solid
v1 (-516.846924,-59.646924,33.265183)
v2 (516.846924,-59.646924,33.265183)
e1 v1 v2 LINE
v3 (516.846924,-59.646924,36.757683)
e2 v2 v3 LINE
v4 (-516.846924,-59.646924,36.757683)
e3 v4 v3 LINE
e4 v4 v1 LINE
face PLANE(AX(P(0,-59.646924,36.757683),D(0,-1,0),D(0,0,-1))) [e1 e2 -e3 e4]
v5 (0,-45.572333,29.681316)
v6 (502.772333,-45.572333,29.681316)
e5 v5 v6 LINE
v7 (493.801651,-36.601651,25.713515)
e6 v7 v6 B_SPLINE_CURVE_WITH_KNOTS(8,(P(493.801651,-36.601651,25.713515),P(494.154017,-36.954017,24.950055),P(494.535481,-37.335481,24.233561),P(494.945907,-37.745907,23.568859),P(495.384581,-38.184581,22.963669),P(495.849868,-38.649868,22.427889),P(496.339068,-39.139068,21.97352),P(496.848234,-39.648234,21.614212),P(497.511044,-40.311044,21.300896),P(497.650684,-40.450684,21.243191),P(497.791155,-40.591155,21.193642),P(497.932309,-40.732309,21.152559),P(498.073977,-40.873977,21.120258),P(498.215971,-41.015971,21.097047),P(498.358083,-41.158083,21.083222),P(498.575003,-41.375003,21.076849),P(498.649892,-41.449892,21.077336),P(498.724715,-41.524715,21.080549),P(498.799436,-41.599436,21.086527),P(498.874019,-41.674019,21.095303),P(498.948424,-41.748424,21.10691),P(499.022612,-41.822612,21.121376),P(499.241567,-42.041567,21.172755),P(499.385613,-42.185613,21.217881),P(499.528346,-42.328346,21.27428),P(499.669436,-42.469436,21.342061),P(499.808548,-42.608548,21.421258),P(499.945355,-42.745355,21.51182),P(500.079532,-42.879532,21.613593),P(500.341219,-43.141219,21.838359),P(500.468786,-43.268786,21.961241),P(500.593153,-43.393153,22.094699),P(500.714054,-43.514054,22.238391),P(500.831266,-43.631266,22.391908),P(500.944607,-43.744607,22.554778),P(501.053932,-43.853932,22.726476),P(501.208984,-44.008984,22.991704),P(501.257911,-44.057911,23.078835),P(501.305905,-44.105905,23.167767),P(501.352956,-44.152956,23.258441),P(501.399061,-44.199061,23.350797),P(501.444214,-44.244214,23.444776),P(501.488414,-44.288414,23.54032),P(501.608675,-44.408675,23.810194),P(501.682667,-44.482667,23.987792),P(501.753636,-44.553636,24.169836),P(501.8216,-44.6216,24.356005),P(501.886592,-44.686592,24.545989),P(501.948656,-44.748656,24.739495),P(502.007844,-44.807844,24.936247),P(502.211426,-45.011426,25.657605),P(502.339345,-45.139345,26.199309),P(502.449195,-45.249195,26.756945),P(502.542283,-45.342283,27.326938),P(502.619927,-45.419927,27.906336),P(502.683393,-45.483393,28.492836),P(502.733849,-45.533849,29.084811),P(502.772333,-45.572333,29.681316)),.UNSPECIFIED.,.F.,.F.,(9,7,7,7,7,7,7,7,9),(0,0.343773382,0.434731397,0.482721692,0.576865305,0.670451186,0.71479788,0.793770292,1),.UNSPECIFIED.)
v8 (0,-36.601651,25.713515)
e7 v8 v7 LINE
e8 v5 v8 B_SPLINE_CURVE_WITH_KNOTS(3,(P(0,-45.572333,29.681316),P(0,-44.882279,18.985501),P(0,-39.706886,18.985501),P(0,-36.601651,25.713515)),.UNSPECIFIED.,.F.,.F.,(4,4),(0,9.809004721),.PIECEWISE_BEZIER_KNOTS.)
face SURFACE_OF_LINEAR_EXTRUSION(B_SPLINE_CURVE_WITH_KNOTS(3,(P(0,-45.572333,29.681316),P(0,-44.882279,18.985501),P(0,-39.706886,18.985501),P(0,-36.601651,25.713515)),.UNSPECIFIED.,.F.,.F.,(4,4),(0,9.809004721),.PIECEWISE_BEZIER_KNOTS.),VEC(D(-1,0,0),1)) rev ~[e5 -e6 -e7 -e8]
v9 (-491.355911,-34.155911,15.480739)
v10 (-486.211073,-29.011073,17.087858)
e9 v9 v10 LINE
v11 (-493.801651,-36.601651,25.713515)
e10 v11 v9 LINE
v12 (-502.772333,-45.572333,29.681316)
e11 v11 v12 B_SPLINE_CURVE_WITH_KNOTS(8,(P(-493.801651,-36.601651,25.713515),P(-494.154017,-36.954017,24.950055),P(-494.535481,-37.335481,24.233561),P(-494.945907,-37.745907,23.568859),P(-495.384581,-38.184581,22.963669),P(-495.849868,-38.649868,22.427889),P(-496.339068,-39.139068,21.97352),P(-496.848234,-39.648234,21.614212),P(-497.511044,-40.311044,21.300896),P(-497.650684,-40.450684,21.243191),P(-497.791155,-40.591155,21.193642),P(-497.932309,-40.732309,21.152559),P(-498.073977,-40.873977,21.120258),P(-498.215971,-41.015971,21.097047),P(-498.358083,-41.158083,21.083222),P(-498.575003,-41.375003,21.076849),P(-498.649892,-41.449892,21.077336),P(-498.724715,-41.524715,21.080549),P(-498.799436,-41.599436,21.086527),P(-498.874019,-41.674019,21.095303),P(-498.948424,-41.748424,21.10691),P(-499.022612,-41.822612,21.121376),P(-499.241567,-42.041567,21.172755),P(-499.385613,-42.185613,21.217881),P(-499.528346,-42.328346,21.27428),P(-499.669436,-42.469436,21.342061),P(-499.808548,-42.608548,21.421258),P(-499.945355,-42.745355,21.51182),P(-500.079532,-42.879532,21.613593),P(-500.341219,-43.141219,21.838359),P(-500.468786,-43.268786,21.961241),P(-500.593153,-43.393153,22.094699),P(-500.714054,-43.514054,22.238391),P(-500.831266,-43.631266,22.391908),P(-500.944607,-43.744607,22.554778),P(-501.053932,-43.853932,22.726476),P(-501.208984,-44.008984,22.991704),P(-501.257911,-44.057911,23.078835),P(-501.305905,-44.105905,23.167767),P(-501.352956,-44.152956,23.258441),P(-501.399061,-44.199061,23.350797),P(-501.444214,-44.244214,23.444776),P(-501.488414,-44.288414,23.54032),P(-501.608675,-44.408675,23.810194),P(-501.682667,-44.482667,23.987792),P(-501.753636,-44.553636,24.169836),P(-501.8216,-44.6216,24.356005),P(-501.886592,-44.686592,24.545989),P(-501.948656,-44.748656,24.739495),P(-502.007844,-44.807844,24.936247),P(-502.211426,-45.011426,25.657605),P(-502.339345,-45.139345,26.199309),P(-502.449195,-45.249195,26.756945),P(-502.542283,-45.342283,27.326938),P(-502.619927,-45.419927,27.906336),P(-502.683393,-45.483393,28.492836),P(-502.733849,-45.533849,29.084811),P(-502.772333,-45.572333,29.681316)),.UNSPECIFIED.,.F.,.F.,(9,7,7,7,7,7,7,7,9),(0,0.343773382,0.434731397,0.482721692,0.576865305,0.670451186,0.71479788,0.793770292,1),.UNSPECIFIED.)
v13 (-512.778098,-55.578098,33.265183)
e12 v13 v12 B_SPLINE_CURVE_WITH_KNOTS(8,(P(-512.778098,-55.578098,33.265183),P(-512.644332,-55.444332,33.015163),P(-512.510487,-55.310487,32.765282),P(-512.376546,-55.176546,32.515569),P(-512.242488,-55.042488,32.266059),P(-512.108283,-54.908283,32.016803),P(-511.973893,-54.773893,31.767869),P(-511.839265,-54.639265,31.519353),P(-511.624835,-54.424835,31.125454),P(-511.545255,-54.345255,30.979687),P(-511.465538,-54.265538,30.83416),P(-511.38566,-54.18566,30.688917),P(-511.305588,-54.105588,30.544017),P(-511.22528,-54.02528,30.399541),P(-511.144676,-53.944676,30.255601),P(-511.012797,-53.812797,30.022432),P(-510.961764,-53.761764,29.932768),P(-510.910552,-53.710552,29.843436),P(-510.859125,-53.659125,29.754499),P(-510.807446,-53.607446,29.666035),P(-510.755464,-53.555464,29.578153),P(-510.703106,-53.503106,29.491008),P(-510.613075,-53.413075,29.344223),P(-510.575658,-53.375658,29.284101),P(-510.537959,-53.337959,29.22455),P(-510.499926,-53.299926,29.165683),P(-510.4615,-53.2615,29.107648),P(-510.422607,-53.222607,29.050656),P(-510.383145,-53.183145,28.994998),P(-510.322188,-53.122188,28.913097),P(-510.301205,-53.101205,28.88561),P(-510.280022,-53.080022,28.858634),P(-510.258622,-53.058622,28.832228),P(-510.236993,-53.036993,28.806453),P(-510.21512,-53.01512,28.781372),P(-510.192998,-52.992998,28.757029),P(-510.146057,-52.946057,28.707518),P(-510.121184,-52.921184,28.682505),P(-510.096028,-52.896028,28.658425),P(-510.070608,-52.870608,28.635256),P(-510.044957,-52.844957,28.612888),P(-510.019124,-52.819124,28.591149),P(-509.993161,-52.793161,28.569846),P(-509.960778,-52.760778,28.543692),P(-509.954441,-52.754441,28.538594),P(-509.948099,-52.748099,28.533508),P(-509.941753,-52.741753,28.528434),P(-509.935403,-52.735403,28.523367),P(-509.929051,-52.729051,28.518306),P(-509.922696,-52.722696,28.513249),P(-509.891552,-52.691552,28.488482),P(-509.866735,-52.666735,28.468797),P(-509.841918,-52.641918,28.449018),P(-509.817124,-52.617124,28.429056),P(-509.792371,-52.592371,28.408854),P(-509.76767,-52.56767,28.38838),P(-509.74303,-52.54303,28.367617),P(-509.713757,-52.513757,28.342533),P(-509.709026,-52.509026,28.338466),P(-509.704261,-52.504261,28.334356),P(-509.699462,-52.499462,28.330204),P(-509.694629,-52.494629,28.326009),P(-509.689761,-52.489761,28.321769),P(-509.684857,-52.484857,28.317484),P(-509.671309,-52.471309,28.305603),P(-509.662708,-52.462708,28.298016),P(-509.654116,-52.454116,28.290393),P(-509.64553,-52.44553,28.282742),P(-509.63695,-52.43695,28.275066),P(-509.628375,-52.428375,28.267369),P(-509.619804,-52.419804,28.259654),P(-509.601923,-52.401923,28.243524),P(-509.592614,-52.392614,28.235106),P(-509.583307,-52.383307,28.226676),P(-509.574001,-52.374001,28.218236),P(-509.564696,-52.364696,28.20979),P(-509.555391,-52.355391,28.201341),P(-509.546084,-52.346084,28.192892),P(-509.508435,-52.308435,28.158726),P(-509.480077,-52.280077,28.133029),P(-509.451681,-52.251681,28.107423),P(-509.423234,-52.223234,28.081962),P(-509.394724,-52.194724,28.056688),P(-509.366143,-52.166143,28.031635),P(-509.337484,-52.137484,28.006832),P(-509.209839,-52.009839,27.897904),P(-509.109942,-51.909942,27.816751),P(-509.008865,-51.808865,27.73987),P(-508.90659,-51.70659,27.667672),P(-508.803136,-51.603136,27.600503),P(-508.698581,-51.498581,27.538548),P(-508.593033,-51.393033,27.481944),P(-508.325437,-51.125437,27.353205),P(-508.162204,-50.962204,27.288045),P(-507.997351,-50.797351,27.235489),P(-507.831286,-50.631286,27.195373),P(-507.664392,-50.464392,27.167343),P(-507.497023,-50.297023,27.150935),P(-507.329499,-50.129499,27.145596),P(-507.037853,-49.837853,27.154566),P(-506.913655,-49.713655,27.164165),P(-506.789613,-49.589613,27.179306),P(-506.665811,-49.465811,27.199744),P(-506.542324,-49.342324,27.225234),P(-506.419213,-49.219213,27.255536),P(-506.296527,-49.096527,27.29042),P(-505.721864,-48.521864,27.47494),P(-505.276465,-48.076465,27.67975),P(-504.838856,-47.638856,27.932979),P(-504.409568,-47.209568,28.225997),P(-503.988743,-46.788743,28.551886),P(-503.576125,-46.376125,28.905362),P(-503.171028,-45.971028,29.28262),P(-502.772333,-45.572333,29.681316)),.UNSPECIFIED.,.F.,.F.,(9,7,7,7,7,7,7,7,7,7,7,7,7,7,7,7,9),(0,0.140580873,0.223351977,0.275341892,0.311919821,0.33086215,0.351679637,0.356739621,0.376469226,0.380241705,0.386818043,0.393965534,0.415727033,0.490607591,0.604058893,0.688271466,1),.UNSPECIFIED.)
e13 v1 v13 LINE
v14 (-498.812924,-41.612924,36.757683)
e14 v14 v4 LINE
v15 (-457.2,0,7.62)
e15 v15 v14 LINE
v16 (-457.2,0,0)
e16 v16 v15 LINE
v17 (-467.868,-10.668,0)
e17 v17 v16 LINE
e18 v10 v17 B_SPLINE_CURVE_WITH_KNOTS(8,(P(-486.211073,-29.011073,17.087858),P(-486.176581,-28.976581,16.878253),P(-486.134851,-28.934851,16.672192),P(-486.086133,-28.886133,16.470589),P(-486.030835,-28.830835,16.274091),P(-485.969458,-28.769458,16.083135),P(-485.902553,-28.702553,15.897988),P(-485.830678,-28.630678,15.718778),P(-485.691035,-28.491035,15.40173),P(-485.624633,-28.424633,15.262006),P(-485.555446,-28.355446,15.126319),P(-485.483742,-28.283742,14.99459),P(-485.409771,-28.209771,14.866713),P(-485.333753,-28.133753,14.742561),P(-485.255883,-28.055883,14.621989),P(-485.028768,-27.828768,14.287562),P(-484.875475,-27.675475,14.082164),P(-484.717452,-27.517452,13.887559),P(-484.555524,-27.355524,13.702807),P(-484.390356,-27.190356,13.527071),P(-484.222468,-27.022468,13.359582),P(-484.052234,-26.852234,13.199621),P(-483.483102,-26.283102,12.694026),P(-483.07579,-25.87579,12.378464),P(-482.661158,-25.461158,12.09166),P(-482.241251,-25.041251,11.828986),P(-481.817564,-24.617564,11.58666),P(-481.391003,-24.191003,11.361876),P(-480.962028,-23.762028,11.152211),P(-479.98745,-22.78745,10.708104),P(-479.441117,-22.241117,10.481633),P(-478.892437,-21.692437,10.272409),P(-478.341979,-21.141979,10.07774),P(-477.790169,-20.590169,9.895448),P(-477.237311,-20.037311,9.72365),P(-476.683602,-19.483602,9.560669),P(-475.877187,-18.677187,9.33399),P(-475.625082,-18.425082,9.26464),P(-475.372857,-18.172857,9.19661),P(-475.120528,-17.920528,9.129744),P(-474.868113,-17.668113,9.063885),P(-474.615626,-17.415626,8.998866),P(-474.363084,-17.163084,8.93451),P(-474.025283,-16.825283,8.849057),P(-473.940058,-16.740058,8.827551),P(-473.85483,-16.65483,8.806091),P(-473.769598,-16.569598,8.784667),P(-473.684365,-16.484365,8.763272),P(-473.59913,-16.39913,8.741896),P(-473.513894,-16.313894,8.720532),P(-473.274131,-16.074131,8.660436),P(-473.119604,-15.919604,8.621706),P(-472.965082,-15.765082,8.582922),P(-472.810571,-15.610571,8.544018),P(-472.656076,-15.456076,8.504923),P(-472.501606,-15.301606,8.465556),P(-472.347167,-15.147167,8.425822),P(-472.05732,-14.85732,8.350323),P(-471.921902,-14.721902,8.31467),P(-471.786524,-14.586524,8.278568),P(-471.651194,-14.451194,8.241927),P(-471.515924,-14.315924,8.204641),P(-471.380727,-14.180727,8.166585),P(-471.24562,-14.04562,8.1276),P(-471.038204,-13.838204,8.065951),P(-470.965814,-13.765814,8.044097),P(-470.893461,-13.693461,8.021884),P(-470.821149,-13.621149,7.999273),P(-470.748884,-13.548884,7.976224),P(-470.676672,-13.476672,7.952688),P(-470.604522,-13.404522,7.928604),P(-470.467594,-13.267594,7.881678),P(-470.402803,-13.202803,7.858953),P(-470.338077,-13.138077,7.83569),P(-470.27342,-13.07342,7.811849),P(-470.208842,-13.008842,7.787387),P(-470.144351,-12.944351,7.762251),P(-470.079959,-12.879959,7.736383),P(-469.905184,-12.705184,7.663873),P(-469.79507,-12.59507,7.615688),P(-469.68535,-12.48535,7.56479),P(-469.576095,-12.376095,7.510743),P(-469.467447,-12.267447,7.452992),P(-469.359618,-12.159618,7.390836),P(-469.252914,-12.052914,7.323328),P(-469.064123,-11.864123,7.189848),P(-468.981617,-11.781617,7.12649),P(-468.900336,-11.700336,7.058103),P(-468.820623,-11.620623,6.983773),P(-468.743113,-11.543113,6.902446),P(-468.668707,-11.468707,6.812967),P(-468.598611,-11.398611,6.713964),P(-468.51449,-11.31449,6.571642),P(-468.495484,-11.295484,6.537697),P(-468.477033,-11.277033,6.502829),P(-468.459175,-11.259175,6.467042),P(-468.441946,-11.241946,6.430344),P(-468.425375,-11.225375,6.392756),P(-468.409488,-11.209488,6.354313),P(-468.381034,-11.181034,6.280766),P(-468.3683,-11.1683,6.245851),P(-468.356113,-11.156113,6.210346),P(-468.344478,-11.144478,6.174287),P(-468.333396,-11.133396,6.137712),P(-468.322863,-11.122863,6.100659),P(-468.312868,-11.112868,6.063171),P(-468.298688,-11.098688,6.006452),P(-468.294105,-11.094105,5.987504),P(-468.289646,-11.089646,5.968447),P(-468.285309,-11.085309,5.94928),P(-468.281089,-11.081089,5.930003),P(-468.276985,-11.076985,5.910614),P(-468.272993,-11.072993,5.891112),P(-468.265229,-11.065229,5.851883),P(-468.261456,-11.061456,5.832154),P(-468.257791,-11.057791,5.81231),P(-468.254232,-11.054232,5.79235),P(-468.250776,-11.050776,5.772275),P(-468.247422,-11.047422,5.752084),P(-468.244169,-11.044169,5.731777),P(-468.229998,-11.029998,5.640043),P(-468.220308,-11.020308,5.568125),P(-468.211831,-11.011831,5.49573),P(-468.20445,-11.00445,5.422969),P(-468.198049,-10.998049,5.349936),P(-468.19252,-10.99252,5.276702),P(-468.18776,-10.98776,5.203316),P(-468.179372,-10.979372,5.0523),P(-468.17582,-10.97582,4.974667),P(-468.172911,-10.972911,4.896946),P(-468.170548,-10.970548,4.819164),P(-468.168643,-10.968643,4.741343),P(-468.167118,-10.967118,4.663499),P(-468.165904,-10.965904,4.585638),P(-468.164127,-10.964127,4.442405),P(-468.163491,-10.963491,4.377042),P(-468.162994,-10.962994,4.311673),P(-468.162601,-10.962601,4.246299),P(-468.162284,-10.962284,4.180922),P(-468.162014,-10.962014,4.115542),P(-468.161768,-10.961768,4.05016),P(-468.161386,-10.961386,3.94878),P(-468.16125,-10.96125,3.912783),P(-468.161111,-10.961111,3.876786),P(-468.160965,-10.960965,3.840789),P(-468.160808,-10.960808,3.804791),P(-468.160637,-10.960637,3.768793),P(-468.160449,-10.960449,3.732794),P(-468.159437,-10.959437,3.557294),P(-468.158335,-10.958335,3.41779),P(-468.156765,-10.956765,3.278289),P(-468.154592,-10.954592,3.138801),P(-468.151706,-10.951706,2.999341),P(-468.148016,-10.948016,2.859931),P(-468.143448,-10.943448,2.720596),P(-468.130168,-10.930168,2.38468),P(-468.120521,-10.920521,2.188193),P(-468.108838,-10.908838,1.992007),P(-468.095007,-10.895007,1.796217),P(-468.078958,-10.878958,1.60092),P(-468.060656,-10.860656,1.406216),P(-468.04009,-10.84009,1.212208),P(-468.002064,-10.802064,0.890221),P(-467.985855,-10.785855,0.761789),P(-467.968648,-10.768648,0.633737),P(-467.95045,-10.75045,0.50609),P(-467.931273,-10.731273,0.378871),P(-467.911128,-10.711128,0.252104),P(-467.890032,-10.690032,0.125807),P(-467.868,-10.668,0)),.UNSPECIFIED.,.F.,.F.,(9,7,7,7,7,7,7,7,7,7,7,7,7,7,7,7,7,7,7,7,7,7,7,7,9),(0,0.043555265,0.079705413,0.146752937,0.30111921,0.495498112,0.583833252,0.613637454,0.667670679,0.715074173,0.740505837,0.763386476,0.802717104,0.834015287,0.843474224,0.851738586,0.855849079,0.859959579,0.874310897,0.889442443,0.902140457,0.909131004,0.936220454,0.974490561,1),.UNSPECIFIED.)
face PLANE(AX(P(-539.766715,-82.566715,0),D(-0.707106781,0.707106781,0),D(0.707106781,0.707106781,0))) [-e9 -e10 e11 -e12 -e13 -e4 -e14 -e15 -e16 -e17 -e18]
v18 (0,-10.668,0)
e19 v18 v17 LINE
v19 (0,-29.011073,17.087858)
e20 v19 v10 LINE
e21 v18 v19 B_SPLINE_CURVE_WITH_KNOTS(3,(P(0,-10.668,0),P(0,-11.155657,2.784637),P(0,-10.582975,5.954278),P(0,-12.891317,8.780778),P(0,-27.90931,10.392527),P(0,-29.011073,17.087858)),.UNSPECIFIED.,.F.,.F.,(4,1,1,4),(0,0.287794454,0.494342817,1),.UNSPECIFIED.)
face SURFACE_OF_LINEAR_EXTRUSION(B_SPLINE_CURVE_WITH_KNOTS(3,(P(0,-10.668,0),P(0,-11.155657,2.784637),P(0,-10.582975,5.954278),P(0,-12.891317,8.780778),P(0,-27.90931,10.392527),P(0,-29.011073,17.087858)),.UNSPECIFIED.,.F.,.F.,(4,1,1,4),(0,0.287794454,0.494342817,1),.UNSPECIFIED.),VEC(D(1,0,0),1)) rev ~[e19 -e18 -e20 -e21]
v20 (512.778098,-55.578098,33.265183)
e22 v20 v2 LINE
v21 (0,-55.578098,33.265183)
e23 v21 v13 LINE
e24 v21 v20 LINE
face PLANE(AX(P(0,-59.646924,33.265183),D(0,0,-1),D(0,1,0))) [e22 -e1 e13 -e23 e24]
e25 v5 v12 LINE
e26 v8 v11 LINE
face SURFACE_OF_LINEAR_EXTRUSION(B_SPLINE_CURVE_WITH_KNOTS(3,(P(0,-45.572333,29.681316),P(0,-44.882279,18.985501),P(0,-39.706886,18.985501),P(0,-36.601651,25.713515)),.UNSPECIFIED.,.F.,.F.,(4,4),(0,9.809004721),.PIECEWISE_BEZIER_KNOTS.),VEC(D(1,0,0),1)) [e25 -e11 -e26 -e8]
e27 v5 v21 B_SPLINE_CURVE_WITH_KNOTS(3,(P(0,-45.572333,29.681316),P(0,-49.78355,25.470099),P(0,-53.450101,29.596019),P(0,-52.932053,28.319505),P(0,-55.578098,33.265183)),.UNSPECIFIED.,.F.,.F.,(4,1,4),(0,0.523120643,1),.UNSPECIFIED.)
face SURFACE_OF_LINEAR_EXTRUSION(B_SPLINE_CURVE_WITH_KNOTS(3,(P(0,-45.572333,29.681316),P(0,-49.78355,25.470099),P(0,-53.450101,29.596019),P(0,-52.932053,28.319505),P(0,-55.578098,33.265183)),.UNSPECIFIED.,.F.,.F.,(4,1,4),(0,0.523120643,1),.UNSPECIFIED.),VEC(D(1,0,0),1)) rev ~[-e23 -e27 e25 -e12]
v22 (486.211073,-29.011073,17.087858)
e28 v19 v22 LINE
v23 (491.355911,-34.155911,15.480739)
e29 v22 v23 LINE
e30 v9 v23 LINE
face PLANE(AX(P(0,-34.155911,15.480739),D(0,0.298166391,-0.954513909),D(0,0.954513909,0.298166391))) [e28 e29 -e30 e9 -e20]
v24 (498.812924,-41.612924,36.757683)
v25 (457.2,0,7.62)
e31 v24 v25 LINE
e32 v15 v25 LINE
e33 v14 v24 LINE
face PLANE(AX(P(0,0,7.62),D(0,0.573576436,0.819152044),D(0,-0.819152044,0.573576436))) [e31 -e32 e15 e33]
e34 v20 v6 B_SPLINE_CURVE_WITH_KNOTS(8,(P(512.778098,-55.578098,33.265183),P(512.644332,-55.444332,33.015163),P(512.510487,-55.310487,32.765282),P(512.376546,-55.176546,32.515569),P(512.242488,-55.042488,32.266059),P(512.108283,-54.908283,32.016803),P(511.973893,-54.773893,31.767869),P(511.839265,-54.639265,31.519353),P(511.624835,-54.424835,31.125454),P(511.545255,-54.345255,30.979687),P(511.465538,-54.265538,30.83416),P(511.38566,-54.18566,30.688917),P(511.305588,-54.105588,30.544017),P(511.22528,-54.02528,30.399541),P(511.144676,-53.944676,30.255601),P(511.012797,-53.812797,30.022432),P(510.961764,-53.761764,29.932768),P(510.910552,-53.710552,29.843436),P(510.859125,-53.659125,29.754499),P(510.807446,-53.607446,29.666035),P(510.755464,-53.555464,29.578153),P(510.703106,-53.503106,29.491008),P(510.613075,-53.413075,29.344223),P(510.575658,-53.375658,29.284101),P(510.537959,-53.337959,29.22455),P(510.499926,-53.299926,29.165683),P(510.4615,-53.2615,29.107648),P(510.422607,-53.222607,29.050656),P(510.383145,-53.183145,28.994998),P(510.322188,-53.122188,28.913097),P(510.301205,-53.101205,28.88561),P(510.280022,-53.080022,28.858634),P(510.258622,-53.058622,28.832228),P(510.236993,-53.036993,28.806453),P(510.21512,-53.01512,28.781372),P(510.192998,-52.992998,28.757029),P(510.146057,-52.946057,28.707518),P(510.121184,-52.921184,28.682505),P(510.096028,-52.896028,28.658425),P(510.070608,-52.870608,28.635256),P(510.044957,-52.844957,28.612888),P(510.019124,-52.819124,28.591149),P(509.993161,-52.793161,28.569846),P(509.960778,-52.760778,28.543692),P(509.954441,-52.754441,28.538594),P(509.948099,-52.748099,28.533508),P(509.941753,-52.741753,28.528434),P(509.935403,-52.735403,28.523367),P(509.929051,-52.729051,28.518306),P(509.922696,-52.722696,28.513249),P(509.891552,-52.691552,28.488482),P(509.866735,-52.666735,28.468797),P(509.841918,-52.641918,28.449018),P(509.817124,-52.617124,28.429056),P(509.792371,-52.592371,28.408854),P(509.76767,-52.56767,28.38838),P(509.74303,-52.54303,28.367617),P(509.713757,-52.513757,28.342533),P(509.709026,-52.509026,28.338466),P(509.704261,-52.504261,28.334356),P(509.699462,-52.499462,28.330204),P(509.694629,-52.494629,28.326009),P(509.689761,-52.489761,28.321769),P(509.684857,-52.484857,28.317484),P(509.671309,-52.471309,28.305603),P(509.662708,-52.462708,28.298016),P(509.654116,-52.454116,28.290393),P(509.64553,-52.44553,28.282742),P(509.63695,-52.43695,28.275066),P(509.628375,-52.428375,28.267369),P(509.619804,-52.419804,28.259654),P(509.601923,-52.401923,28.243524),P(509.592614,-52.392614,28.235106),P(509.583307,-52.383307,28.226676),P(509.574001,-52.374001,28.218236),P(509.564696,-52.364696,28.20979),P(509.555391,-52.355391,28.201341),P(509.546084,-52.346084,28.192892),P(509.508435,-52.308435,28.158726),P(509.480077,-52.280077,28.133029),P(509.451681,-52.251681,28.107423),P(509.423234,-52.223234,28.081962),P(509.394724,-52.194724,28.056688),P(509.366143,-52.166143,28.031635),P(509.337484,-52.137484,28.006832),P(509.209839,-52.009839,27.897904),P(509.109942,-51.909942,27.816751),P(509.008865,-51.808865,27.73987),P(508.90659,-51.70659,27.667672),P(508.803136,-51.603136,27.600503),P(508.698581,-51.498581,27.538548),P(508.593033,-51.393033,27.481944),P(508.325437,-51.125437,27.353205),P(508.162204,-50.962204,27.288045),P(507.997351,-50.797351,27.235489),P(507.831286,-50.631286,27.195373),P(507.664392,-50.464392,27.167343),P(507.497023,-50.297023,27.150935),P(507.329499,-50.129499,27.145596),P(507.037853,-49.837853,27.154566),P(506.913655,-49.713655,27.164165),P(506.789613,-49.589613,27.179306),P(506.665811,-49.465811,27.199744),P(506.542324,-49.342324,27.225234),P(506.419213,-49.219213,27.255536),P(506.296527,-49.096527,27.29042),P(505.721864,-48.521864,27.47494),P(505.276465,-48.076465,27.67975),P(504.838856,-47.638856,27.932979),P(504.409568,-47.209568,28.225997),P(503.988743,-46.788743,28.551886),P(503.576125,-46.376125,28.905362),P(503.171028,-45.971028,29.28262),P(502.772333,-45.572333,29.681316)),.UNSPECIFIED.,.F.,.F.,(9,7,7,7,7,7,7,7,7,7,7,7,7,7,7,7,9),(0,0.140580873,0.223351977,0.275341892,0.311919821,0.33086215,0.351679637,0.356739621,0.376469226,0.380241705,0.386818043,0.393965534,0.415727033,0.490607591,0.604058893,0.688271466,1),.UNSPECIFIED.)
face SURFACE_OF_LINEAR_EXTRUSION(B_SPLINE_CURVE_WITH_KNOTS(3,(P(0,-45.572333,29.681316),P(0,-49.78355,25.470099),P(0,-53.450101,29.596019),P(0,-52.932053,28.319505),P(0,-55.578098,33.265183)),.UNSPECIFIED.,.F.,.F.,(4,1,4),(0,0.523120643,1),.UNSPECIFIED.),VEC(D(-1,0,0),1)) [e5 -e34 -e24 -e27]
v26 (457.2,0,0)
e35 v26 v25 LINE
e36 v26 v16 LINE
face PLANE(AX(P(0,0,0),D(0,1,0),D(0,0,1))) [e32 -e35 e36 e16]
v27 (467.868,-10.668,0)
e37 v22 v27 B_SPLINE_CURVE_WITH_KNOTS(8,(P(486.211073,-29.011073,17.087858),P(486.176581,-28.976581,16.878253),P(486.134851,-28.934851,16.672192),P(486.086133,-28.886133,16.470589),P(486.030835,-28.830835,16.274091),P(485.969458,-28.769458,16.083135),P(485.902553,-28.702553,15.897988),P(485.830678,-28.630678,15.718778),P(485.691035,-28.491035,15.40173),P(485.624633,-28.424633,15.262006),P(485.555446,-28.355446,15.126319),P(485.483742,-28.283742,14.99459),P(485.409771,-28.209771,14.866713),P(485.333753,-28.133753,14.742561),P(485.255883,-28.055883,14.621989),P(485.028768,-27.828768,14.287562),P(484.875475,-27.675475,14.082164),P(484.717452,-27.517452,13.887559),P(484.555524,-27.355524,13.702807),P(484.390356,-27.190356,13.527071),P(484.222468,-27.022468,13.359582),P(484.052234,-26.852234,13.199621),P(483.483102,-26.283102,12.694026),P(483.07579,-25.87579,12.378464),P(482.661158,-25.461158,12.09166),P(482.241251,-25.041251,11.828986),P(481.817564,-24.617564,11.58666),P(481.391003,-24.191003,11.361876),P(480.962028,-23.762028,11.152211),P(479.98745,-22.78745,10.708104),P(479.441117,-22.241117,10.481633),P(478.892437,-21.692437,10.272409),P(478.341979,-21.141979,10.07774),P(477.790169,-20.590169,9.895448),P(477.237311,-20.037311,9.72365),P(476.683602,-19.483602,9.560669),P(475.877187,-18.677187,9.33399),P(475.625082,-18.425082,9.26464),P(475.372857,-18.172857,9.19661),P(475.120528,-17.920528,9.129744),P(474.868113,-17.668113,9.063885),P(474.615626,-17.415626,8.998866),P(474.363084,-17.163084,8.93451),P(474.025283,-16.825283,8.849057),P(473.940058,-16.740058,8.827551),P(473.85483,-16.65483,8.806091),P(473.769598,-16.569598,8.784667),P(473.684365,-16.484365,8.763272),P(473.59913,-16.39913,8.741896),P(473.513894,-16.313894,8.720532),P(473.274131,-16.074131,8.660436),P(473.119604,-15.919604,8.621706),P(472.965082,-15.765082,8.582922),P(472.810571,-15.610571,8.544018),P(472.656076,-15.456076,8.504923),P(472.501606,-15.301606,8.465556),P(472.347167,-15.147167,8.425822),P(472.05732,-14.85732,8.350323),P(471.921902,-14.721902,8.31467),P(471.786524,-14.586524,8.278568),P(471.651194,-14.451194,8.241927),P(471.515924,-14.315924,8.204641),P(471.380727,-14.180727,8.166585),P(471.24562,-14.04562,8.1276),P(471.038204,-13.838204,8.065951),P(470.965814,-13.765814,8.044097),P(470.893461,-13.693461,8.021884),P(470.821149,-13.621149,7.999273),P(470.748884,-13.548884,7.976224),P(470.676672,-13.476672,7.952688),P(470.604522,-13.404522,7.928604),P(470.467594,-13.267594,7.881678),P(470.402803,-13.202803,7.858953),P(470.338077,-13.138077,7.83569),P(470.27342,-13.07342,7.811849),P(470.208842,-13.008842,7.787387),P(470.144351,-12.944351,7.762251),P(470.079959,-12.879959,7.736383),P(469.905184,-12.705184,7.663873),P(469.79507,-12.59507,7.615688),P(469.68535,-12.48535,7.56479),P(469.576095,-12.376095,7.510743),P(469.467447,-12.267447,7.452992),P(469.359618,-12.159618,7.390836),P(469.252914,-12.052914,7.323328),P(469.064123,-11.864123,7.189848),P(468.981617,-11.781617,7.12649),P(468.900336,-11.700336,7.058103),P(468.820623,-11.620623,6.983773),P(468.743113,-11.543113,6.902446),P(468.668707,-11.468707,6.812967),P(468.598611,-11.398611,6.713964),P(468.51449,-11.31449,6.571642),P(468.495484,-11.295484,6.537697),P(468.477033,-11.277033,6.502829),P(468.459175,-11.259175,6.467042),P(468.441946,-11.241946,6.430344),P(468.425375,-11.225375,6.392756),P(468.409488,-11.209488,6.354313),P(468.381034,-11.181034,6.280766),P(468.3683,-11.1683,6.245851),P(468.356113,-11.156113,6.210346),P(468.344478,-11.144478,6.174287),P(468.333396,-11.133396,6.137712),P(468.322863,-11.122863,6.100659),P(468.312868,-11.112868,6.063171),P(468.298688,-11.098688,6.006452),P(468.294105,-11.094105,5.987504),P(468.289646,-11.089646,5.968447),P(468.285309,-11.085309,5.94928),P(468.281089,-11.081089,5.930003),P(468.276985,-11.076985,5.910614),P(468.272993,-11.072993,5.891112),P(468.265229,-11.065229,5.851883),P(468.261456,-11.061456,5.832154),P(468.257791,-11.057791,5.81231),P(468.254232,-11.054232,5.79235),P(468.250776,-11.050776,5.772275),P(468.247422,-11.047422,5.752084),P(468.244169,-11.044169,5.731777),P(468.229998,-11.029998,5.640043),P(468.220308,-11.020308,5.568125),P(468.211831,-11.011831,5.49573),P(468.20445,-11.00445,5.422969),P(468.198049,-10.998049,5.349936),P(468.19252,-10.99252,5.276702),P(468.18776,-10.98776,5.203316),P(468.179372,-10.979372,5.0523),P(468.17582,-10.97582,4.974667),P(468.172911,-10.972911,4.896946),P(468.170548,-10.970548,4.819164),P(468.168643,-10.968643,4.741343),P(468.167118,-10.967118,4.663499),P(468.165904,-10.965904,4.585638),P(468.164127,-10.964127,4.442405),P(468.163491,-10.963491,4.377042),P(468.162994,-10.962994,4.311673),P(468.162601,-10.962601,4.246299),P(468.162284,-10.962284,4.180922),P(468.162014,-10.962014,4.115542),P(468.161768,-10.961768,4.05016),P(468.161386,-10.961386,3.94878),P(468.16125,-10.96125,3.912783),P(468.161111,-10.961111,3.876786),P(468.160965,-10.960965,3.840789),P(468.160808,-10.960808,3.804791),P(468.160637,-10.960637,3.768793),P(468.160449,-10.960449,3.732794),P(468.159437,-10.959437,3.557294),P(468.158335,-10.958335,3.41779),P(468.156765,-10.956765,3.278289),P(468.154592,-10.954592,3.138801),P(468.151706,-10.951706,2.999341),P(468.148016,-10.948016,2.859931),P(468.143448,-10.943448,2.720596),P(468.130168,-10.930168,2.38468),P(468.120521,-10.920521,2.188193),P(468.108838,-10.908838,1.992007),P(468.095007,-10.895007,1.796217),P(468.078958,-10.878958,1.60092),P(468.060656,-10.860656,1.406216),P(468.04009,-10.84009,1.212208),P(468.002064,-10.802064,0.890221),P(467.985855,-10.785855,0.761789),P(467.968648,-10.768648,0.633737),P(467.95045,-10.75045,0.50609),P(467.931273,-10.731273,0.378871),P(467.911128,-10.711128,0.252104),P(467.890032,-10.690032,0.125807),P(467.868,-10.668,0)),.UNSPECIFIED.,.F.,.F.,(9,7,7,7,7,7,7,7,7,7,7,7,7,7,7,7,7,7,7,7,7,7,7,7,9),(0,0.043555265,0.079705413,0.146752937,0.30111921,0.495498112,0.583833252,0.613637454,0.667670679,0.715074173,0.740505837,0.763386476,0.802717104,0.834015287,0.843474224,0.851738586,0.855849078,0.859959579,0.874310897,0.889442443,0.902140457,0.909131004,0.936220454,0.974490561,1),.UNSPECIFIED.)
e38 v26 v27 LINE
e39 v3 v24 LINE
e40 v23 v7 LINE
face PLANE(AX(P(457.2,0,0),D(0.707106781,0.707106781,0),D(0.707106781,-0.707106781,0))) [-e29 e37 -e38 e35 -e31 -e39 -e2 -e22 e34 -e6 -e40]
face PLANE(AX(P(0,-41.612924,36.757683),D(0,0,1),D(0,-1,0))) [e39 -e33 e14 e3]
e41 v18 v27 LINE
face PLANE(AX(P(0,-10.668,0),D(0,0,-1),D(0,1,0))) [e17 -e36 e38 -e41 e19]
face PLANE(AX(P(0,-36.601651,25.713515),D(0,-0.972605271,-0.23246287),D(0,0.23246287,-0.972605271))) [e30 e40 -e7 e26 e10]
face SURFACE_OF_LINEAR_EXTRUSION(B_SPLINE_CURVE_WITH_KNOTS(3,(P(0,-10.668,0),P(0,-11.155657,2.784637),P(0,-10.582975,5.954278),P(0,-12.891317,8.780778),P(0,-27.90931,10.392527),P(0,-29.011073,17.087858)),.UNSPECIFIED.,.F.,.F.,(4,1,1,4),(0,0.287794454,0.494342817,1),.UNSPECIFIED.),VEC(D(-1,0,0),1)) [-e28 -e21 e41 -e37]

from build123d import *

# Parameters (mm, degrees)
F1_DEPTH      = 533.4
F1_DEPTH_BACK = 533.4
F3_DEPTH      = 36.7586830666


with BuildPart() as f1:
    # F0 (on Right) → F1 (new body, two sides)
    with BuildSketch(Plane.YZ) as f1_sk:
        with BuildLine():
            Line((0, 0), (0, 7.62))
            Line((0, 7.62), (-41.6129238499, 36.7576829666))
            Line((-41.6129238499, 36.7576829666), (-59.6469238499, 36.7576829666))
            Line((-59.6469238499, 36.7576829666), (-59.6469238499, 33.2651829666))
            Line((-59.6469238499, 33.2651829666), (-55.5780977011, 33.2651829666))
            add(Edge.make_bspline(
                [(-45.5723330379, 29.6813156456), (-49.7835501701, 25.4700985133), (-53.450101218, 29.596019167), (-52.9320531806, 28.3195054473), (-55.5780977011, 33.2651829666)],
                knots=[0, 0, 0, 0, 0.5231206432, 1, 1, 1, 1], degree=3))
            add(Edge.make_bspline(
                [(-45.5723330379, 29.6813156456), (-44.8822788894, 18.9855005592), (-39.7068858147, 18.9855005592), (-36.6016514599, 25.7135145366)],
                knots=[0, 0, 0, 0, 9.8090047208, 9.8090047208, 9.8090047208, 9.8090047208], degree=3))
            Line((-36.6016514599, 25.7135145366), (-34.1559106391, 15.4807388001))
            Line((-34.1559106391, 15.4807388001), (-29.0110725909, 17.0878581703))
            add(Edge.make_bspline(
                [(-10.668, 0), (-11.1556568149, 2.7846370926), (-10.5829747075, 5.9542784256), (-12.8913166716, 8.7807780932), (-27.909309552, 10.3925271921), (-29.0110725909, 17.0878581703)],
                knots=[0, 0, 0, 0, 0.2877944543, 0.4943428173, 1, 1, 1, 1], degree=3))
            Line((-10.668, 0), (0, 0))
        make_face()
    extrude(amount=F1_DEPTH)
    extrude(f1_sk.sketch, amount=-F1_DEPTH_BACK)

    # F2 (on Top) → F3 (cut, through all)
    with BuildSketch(Plane.XY):
        Polygon((539.7667148769, 0), (457.2, 0), (539.7667148769, -82.5667148769), align=None)
        Polygon((-539.7667148769, -82.5667148769), (-457.2, 0), (-539.7667148769, 0), align=None)
    extrude(amount=F3_DEPTH, mode=Mode.SUBTRACT)


solid = f1.part
